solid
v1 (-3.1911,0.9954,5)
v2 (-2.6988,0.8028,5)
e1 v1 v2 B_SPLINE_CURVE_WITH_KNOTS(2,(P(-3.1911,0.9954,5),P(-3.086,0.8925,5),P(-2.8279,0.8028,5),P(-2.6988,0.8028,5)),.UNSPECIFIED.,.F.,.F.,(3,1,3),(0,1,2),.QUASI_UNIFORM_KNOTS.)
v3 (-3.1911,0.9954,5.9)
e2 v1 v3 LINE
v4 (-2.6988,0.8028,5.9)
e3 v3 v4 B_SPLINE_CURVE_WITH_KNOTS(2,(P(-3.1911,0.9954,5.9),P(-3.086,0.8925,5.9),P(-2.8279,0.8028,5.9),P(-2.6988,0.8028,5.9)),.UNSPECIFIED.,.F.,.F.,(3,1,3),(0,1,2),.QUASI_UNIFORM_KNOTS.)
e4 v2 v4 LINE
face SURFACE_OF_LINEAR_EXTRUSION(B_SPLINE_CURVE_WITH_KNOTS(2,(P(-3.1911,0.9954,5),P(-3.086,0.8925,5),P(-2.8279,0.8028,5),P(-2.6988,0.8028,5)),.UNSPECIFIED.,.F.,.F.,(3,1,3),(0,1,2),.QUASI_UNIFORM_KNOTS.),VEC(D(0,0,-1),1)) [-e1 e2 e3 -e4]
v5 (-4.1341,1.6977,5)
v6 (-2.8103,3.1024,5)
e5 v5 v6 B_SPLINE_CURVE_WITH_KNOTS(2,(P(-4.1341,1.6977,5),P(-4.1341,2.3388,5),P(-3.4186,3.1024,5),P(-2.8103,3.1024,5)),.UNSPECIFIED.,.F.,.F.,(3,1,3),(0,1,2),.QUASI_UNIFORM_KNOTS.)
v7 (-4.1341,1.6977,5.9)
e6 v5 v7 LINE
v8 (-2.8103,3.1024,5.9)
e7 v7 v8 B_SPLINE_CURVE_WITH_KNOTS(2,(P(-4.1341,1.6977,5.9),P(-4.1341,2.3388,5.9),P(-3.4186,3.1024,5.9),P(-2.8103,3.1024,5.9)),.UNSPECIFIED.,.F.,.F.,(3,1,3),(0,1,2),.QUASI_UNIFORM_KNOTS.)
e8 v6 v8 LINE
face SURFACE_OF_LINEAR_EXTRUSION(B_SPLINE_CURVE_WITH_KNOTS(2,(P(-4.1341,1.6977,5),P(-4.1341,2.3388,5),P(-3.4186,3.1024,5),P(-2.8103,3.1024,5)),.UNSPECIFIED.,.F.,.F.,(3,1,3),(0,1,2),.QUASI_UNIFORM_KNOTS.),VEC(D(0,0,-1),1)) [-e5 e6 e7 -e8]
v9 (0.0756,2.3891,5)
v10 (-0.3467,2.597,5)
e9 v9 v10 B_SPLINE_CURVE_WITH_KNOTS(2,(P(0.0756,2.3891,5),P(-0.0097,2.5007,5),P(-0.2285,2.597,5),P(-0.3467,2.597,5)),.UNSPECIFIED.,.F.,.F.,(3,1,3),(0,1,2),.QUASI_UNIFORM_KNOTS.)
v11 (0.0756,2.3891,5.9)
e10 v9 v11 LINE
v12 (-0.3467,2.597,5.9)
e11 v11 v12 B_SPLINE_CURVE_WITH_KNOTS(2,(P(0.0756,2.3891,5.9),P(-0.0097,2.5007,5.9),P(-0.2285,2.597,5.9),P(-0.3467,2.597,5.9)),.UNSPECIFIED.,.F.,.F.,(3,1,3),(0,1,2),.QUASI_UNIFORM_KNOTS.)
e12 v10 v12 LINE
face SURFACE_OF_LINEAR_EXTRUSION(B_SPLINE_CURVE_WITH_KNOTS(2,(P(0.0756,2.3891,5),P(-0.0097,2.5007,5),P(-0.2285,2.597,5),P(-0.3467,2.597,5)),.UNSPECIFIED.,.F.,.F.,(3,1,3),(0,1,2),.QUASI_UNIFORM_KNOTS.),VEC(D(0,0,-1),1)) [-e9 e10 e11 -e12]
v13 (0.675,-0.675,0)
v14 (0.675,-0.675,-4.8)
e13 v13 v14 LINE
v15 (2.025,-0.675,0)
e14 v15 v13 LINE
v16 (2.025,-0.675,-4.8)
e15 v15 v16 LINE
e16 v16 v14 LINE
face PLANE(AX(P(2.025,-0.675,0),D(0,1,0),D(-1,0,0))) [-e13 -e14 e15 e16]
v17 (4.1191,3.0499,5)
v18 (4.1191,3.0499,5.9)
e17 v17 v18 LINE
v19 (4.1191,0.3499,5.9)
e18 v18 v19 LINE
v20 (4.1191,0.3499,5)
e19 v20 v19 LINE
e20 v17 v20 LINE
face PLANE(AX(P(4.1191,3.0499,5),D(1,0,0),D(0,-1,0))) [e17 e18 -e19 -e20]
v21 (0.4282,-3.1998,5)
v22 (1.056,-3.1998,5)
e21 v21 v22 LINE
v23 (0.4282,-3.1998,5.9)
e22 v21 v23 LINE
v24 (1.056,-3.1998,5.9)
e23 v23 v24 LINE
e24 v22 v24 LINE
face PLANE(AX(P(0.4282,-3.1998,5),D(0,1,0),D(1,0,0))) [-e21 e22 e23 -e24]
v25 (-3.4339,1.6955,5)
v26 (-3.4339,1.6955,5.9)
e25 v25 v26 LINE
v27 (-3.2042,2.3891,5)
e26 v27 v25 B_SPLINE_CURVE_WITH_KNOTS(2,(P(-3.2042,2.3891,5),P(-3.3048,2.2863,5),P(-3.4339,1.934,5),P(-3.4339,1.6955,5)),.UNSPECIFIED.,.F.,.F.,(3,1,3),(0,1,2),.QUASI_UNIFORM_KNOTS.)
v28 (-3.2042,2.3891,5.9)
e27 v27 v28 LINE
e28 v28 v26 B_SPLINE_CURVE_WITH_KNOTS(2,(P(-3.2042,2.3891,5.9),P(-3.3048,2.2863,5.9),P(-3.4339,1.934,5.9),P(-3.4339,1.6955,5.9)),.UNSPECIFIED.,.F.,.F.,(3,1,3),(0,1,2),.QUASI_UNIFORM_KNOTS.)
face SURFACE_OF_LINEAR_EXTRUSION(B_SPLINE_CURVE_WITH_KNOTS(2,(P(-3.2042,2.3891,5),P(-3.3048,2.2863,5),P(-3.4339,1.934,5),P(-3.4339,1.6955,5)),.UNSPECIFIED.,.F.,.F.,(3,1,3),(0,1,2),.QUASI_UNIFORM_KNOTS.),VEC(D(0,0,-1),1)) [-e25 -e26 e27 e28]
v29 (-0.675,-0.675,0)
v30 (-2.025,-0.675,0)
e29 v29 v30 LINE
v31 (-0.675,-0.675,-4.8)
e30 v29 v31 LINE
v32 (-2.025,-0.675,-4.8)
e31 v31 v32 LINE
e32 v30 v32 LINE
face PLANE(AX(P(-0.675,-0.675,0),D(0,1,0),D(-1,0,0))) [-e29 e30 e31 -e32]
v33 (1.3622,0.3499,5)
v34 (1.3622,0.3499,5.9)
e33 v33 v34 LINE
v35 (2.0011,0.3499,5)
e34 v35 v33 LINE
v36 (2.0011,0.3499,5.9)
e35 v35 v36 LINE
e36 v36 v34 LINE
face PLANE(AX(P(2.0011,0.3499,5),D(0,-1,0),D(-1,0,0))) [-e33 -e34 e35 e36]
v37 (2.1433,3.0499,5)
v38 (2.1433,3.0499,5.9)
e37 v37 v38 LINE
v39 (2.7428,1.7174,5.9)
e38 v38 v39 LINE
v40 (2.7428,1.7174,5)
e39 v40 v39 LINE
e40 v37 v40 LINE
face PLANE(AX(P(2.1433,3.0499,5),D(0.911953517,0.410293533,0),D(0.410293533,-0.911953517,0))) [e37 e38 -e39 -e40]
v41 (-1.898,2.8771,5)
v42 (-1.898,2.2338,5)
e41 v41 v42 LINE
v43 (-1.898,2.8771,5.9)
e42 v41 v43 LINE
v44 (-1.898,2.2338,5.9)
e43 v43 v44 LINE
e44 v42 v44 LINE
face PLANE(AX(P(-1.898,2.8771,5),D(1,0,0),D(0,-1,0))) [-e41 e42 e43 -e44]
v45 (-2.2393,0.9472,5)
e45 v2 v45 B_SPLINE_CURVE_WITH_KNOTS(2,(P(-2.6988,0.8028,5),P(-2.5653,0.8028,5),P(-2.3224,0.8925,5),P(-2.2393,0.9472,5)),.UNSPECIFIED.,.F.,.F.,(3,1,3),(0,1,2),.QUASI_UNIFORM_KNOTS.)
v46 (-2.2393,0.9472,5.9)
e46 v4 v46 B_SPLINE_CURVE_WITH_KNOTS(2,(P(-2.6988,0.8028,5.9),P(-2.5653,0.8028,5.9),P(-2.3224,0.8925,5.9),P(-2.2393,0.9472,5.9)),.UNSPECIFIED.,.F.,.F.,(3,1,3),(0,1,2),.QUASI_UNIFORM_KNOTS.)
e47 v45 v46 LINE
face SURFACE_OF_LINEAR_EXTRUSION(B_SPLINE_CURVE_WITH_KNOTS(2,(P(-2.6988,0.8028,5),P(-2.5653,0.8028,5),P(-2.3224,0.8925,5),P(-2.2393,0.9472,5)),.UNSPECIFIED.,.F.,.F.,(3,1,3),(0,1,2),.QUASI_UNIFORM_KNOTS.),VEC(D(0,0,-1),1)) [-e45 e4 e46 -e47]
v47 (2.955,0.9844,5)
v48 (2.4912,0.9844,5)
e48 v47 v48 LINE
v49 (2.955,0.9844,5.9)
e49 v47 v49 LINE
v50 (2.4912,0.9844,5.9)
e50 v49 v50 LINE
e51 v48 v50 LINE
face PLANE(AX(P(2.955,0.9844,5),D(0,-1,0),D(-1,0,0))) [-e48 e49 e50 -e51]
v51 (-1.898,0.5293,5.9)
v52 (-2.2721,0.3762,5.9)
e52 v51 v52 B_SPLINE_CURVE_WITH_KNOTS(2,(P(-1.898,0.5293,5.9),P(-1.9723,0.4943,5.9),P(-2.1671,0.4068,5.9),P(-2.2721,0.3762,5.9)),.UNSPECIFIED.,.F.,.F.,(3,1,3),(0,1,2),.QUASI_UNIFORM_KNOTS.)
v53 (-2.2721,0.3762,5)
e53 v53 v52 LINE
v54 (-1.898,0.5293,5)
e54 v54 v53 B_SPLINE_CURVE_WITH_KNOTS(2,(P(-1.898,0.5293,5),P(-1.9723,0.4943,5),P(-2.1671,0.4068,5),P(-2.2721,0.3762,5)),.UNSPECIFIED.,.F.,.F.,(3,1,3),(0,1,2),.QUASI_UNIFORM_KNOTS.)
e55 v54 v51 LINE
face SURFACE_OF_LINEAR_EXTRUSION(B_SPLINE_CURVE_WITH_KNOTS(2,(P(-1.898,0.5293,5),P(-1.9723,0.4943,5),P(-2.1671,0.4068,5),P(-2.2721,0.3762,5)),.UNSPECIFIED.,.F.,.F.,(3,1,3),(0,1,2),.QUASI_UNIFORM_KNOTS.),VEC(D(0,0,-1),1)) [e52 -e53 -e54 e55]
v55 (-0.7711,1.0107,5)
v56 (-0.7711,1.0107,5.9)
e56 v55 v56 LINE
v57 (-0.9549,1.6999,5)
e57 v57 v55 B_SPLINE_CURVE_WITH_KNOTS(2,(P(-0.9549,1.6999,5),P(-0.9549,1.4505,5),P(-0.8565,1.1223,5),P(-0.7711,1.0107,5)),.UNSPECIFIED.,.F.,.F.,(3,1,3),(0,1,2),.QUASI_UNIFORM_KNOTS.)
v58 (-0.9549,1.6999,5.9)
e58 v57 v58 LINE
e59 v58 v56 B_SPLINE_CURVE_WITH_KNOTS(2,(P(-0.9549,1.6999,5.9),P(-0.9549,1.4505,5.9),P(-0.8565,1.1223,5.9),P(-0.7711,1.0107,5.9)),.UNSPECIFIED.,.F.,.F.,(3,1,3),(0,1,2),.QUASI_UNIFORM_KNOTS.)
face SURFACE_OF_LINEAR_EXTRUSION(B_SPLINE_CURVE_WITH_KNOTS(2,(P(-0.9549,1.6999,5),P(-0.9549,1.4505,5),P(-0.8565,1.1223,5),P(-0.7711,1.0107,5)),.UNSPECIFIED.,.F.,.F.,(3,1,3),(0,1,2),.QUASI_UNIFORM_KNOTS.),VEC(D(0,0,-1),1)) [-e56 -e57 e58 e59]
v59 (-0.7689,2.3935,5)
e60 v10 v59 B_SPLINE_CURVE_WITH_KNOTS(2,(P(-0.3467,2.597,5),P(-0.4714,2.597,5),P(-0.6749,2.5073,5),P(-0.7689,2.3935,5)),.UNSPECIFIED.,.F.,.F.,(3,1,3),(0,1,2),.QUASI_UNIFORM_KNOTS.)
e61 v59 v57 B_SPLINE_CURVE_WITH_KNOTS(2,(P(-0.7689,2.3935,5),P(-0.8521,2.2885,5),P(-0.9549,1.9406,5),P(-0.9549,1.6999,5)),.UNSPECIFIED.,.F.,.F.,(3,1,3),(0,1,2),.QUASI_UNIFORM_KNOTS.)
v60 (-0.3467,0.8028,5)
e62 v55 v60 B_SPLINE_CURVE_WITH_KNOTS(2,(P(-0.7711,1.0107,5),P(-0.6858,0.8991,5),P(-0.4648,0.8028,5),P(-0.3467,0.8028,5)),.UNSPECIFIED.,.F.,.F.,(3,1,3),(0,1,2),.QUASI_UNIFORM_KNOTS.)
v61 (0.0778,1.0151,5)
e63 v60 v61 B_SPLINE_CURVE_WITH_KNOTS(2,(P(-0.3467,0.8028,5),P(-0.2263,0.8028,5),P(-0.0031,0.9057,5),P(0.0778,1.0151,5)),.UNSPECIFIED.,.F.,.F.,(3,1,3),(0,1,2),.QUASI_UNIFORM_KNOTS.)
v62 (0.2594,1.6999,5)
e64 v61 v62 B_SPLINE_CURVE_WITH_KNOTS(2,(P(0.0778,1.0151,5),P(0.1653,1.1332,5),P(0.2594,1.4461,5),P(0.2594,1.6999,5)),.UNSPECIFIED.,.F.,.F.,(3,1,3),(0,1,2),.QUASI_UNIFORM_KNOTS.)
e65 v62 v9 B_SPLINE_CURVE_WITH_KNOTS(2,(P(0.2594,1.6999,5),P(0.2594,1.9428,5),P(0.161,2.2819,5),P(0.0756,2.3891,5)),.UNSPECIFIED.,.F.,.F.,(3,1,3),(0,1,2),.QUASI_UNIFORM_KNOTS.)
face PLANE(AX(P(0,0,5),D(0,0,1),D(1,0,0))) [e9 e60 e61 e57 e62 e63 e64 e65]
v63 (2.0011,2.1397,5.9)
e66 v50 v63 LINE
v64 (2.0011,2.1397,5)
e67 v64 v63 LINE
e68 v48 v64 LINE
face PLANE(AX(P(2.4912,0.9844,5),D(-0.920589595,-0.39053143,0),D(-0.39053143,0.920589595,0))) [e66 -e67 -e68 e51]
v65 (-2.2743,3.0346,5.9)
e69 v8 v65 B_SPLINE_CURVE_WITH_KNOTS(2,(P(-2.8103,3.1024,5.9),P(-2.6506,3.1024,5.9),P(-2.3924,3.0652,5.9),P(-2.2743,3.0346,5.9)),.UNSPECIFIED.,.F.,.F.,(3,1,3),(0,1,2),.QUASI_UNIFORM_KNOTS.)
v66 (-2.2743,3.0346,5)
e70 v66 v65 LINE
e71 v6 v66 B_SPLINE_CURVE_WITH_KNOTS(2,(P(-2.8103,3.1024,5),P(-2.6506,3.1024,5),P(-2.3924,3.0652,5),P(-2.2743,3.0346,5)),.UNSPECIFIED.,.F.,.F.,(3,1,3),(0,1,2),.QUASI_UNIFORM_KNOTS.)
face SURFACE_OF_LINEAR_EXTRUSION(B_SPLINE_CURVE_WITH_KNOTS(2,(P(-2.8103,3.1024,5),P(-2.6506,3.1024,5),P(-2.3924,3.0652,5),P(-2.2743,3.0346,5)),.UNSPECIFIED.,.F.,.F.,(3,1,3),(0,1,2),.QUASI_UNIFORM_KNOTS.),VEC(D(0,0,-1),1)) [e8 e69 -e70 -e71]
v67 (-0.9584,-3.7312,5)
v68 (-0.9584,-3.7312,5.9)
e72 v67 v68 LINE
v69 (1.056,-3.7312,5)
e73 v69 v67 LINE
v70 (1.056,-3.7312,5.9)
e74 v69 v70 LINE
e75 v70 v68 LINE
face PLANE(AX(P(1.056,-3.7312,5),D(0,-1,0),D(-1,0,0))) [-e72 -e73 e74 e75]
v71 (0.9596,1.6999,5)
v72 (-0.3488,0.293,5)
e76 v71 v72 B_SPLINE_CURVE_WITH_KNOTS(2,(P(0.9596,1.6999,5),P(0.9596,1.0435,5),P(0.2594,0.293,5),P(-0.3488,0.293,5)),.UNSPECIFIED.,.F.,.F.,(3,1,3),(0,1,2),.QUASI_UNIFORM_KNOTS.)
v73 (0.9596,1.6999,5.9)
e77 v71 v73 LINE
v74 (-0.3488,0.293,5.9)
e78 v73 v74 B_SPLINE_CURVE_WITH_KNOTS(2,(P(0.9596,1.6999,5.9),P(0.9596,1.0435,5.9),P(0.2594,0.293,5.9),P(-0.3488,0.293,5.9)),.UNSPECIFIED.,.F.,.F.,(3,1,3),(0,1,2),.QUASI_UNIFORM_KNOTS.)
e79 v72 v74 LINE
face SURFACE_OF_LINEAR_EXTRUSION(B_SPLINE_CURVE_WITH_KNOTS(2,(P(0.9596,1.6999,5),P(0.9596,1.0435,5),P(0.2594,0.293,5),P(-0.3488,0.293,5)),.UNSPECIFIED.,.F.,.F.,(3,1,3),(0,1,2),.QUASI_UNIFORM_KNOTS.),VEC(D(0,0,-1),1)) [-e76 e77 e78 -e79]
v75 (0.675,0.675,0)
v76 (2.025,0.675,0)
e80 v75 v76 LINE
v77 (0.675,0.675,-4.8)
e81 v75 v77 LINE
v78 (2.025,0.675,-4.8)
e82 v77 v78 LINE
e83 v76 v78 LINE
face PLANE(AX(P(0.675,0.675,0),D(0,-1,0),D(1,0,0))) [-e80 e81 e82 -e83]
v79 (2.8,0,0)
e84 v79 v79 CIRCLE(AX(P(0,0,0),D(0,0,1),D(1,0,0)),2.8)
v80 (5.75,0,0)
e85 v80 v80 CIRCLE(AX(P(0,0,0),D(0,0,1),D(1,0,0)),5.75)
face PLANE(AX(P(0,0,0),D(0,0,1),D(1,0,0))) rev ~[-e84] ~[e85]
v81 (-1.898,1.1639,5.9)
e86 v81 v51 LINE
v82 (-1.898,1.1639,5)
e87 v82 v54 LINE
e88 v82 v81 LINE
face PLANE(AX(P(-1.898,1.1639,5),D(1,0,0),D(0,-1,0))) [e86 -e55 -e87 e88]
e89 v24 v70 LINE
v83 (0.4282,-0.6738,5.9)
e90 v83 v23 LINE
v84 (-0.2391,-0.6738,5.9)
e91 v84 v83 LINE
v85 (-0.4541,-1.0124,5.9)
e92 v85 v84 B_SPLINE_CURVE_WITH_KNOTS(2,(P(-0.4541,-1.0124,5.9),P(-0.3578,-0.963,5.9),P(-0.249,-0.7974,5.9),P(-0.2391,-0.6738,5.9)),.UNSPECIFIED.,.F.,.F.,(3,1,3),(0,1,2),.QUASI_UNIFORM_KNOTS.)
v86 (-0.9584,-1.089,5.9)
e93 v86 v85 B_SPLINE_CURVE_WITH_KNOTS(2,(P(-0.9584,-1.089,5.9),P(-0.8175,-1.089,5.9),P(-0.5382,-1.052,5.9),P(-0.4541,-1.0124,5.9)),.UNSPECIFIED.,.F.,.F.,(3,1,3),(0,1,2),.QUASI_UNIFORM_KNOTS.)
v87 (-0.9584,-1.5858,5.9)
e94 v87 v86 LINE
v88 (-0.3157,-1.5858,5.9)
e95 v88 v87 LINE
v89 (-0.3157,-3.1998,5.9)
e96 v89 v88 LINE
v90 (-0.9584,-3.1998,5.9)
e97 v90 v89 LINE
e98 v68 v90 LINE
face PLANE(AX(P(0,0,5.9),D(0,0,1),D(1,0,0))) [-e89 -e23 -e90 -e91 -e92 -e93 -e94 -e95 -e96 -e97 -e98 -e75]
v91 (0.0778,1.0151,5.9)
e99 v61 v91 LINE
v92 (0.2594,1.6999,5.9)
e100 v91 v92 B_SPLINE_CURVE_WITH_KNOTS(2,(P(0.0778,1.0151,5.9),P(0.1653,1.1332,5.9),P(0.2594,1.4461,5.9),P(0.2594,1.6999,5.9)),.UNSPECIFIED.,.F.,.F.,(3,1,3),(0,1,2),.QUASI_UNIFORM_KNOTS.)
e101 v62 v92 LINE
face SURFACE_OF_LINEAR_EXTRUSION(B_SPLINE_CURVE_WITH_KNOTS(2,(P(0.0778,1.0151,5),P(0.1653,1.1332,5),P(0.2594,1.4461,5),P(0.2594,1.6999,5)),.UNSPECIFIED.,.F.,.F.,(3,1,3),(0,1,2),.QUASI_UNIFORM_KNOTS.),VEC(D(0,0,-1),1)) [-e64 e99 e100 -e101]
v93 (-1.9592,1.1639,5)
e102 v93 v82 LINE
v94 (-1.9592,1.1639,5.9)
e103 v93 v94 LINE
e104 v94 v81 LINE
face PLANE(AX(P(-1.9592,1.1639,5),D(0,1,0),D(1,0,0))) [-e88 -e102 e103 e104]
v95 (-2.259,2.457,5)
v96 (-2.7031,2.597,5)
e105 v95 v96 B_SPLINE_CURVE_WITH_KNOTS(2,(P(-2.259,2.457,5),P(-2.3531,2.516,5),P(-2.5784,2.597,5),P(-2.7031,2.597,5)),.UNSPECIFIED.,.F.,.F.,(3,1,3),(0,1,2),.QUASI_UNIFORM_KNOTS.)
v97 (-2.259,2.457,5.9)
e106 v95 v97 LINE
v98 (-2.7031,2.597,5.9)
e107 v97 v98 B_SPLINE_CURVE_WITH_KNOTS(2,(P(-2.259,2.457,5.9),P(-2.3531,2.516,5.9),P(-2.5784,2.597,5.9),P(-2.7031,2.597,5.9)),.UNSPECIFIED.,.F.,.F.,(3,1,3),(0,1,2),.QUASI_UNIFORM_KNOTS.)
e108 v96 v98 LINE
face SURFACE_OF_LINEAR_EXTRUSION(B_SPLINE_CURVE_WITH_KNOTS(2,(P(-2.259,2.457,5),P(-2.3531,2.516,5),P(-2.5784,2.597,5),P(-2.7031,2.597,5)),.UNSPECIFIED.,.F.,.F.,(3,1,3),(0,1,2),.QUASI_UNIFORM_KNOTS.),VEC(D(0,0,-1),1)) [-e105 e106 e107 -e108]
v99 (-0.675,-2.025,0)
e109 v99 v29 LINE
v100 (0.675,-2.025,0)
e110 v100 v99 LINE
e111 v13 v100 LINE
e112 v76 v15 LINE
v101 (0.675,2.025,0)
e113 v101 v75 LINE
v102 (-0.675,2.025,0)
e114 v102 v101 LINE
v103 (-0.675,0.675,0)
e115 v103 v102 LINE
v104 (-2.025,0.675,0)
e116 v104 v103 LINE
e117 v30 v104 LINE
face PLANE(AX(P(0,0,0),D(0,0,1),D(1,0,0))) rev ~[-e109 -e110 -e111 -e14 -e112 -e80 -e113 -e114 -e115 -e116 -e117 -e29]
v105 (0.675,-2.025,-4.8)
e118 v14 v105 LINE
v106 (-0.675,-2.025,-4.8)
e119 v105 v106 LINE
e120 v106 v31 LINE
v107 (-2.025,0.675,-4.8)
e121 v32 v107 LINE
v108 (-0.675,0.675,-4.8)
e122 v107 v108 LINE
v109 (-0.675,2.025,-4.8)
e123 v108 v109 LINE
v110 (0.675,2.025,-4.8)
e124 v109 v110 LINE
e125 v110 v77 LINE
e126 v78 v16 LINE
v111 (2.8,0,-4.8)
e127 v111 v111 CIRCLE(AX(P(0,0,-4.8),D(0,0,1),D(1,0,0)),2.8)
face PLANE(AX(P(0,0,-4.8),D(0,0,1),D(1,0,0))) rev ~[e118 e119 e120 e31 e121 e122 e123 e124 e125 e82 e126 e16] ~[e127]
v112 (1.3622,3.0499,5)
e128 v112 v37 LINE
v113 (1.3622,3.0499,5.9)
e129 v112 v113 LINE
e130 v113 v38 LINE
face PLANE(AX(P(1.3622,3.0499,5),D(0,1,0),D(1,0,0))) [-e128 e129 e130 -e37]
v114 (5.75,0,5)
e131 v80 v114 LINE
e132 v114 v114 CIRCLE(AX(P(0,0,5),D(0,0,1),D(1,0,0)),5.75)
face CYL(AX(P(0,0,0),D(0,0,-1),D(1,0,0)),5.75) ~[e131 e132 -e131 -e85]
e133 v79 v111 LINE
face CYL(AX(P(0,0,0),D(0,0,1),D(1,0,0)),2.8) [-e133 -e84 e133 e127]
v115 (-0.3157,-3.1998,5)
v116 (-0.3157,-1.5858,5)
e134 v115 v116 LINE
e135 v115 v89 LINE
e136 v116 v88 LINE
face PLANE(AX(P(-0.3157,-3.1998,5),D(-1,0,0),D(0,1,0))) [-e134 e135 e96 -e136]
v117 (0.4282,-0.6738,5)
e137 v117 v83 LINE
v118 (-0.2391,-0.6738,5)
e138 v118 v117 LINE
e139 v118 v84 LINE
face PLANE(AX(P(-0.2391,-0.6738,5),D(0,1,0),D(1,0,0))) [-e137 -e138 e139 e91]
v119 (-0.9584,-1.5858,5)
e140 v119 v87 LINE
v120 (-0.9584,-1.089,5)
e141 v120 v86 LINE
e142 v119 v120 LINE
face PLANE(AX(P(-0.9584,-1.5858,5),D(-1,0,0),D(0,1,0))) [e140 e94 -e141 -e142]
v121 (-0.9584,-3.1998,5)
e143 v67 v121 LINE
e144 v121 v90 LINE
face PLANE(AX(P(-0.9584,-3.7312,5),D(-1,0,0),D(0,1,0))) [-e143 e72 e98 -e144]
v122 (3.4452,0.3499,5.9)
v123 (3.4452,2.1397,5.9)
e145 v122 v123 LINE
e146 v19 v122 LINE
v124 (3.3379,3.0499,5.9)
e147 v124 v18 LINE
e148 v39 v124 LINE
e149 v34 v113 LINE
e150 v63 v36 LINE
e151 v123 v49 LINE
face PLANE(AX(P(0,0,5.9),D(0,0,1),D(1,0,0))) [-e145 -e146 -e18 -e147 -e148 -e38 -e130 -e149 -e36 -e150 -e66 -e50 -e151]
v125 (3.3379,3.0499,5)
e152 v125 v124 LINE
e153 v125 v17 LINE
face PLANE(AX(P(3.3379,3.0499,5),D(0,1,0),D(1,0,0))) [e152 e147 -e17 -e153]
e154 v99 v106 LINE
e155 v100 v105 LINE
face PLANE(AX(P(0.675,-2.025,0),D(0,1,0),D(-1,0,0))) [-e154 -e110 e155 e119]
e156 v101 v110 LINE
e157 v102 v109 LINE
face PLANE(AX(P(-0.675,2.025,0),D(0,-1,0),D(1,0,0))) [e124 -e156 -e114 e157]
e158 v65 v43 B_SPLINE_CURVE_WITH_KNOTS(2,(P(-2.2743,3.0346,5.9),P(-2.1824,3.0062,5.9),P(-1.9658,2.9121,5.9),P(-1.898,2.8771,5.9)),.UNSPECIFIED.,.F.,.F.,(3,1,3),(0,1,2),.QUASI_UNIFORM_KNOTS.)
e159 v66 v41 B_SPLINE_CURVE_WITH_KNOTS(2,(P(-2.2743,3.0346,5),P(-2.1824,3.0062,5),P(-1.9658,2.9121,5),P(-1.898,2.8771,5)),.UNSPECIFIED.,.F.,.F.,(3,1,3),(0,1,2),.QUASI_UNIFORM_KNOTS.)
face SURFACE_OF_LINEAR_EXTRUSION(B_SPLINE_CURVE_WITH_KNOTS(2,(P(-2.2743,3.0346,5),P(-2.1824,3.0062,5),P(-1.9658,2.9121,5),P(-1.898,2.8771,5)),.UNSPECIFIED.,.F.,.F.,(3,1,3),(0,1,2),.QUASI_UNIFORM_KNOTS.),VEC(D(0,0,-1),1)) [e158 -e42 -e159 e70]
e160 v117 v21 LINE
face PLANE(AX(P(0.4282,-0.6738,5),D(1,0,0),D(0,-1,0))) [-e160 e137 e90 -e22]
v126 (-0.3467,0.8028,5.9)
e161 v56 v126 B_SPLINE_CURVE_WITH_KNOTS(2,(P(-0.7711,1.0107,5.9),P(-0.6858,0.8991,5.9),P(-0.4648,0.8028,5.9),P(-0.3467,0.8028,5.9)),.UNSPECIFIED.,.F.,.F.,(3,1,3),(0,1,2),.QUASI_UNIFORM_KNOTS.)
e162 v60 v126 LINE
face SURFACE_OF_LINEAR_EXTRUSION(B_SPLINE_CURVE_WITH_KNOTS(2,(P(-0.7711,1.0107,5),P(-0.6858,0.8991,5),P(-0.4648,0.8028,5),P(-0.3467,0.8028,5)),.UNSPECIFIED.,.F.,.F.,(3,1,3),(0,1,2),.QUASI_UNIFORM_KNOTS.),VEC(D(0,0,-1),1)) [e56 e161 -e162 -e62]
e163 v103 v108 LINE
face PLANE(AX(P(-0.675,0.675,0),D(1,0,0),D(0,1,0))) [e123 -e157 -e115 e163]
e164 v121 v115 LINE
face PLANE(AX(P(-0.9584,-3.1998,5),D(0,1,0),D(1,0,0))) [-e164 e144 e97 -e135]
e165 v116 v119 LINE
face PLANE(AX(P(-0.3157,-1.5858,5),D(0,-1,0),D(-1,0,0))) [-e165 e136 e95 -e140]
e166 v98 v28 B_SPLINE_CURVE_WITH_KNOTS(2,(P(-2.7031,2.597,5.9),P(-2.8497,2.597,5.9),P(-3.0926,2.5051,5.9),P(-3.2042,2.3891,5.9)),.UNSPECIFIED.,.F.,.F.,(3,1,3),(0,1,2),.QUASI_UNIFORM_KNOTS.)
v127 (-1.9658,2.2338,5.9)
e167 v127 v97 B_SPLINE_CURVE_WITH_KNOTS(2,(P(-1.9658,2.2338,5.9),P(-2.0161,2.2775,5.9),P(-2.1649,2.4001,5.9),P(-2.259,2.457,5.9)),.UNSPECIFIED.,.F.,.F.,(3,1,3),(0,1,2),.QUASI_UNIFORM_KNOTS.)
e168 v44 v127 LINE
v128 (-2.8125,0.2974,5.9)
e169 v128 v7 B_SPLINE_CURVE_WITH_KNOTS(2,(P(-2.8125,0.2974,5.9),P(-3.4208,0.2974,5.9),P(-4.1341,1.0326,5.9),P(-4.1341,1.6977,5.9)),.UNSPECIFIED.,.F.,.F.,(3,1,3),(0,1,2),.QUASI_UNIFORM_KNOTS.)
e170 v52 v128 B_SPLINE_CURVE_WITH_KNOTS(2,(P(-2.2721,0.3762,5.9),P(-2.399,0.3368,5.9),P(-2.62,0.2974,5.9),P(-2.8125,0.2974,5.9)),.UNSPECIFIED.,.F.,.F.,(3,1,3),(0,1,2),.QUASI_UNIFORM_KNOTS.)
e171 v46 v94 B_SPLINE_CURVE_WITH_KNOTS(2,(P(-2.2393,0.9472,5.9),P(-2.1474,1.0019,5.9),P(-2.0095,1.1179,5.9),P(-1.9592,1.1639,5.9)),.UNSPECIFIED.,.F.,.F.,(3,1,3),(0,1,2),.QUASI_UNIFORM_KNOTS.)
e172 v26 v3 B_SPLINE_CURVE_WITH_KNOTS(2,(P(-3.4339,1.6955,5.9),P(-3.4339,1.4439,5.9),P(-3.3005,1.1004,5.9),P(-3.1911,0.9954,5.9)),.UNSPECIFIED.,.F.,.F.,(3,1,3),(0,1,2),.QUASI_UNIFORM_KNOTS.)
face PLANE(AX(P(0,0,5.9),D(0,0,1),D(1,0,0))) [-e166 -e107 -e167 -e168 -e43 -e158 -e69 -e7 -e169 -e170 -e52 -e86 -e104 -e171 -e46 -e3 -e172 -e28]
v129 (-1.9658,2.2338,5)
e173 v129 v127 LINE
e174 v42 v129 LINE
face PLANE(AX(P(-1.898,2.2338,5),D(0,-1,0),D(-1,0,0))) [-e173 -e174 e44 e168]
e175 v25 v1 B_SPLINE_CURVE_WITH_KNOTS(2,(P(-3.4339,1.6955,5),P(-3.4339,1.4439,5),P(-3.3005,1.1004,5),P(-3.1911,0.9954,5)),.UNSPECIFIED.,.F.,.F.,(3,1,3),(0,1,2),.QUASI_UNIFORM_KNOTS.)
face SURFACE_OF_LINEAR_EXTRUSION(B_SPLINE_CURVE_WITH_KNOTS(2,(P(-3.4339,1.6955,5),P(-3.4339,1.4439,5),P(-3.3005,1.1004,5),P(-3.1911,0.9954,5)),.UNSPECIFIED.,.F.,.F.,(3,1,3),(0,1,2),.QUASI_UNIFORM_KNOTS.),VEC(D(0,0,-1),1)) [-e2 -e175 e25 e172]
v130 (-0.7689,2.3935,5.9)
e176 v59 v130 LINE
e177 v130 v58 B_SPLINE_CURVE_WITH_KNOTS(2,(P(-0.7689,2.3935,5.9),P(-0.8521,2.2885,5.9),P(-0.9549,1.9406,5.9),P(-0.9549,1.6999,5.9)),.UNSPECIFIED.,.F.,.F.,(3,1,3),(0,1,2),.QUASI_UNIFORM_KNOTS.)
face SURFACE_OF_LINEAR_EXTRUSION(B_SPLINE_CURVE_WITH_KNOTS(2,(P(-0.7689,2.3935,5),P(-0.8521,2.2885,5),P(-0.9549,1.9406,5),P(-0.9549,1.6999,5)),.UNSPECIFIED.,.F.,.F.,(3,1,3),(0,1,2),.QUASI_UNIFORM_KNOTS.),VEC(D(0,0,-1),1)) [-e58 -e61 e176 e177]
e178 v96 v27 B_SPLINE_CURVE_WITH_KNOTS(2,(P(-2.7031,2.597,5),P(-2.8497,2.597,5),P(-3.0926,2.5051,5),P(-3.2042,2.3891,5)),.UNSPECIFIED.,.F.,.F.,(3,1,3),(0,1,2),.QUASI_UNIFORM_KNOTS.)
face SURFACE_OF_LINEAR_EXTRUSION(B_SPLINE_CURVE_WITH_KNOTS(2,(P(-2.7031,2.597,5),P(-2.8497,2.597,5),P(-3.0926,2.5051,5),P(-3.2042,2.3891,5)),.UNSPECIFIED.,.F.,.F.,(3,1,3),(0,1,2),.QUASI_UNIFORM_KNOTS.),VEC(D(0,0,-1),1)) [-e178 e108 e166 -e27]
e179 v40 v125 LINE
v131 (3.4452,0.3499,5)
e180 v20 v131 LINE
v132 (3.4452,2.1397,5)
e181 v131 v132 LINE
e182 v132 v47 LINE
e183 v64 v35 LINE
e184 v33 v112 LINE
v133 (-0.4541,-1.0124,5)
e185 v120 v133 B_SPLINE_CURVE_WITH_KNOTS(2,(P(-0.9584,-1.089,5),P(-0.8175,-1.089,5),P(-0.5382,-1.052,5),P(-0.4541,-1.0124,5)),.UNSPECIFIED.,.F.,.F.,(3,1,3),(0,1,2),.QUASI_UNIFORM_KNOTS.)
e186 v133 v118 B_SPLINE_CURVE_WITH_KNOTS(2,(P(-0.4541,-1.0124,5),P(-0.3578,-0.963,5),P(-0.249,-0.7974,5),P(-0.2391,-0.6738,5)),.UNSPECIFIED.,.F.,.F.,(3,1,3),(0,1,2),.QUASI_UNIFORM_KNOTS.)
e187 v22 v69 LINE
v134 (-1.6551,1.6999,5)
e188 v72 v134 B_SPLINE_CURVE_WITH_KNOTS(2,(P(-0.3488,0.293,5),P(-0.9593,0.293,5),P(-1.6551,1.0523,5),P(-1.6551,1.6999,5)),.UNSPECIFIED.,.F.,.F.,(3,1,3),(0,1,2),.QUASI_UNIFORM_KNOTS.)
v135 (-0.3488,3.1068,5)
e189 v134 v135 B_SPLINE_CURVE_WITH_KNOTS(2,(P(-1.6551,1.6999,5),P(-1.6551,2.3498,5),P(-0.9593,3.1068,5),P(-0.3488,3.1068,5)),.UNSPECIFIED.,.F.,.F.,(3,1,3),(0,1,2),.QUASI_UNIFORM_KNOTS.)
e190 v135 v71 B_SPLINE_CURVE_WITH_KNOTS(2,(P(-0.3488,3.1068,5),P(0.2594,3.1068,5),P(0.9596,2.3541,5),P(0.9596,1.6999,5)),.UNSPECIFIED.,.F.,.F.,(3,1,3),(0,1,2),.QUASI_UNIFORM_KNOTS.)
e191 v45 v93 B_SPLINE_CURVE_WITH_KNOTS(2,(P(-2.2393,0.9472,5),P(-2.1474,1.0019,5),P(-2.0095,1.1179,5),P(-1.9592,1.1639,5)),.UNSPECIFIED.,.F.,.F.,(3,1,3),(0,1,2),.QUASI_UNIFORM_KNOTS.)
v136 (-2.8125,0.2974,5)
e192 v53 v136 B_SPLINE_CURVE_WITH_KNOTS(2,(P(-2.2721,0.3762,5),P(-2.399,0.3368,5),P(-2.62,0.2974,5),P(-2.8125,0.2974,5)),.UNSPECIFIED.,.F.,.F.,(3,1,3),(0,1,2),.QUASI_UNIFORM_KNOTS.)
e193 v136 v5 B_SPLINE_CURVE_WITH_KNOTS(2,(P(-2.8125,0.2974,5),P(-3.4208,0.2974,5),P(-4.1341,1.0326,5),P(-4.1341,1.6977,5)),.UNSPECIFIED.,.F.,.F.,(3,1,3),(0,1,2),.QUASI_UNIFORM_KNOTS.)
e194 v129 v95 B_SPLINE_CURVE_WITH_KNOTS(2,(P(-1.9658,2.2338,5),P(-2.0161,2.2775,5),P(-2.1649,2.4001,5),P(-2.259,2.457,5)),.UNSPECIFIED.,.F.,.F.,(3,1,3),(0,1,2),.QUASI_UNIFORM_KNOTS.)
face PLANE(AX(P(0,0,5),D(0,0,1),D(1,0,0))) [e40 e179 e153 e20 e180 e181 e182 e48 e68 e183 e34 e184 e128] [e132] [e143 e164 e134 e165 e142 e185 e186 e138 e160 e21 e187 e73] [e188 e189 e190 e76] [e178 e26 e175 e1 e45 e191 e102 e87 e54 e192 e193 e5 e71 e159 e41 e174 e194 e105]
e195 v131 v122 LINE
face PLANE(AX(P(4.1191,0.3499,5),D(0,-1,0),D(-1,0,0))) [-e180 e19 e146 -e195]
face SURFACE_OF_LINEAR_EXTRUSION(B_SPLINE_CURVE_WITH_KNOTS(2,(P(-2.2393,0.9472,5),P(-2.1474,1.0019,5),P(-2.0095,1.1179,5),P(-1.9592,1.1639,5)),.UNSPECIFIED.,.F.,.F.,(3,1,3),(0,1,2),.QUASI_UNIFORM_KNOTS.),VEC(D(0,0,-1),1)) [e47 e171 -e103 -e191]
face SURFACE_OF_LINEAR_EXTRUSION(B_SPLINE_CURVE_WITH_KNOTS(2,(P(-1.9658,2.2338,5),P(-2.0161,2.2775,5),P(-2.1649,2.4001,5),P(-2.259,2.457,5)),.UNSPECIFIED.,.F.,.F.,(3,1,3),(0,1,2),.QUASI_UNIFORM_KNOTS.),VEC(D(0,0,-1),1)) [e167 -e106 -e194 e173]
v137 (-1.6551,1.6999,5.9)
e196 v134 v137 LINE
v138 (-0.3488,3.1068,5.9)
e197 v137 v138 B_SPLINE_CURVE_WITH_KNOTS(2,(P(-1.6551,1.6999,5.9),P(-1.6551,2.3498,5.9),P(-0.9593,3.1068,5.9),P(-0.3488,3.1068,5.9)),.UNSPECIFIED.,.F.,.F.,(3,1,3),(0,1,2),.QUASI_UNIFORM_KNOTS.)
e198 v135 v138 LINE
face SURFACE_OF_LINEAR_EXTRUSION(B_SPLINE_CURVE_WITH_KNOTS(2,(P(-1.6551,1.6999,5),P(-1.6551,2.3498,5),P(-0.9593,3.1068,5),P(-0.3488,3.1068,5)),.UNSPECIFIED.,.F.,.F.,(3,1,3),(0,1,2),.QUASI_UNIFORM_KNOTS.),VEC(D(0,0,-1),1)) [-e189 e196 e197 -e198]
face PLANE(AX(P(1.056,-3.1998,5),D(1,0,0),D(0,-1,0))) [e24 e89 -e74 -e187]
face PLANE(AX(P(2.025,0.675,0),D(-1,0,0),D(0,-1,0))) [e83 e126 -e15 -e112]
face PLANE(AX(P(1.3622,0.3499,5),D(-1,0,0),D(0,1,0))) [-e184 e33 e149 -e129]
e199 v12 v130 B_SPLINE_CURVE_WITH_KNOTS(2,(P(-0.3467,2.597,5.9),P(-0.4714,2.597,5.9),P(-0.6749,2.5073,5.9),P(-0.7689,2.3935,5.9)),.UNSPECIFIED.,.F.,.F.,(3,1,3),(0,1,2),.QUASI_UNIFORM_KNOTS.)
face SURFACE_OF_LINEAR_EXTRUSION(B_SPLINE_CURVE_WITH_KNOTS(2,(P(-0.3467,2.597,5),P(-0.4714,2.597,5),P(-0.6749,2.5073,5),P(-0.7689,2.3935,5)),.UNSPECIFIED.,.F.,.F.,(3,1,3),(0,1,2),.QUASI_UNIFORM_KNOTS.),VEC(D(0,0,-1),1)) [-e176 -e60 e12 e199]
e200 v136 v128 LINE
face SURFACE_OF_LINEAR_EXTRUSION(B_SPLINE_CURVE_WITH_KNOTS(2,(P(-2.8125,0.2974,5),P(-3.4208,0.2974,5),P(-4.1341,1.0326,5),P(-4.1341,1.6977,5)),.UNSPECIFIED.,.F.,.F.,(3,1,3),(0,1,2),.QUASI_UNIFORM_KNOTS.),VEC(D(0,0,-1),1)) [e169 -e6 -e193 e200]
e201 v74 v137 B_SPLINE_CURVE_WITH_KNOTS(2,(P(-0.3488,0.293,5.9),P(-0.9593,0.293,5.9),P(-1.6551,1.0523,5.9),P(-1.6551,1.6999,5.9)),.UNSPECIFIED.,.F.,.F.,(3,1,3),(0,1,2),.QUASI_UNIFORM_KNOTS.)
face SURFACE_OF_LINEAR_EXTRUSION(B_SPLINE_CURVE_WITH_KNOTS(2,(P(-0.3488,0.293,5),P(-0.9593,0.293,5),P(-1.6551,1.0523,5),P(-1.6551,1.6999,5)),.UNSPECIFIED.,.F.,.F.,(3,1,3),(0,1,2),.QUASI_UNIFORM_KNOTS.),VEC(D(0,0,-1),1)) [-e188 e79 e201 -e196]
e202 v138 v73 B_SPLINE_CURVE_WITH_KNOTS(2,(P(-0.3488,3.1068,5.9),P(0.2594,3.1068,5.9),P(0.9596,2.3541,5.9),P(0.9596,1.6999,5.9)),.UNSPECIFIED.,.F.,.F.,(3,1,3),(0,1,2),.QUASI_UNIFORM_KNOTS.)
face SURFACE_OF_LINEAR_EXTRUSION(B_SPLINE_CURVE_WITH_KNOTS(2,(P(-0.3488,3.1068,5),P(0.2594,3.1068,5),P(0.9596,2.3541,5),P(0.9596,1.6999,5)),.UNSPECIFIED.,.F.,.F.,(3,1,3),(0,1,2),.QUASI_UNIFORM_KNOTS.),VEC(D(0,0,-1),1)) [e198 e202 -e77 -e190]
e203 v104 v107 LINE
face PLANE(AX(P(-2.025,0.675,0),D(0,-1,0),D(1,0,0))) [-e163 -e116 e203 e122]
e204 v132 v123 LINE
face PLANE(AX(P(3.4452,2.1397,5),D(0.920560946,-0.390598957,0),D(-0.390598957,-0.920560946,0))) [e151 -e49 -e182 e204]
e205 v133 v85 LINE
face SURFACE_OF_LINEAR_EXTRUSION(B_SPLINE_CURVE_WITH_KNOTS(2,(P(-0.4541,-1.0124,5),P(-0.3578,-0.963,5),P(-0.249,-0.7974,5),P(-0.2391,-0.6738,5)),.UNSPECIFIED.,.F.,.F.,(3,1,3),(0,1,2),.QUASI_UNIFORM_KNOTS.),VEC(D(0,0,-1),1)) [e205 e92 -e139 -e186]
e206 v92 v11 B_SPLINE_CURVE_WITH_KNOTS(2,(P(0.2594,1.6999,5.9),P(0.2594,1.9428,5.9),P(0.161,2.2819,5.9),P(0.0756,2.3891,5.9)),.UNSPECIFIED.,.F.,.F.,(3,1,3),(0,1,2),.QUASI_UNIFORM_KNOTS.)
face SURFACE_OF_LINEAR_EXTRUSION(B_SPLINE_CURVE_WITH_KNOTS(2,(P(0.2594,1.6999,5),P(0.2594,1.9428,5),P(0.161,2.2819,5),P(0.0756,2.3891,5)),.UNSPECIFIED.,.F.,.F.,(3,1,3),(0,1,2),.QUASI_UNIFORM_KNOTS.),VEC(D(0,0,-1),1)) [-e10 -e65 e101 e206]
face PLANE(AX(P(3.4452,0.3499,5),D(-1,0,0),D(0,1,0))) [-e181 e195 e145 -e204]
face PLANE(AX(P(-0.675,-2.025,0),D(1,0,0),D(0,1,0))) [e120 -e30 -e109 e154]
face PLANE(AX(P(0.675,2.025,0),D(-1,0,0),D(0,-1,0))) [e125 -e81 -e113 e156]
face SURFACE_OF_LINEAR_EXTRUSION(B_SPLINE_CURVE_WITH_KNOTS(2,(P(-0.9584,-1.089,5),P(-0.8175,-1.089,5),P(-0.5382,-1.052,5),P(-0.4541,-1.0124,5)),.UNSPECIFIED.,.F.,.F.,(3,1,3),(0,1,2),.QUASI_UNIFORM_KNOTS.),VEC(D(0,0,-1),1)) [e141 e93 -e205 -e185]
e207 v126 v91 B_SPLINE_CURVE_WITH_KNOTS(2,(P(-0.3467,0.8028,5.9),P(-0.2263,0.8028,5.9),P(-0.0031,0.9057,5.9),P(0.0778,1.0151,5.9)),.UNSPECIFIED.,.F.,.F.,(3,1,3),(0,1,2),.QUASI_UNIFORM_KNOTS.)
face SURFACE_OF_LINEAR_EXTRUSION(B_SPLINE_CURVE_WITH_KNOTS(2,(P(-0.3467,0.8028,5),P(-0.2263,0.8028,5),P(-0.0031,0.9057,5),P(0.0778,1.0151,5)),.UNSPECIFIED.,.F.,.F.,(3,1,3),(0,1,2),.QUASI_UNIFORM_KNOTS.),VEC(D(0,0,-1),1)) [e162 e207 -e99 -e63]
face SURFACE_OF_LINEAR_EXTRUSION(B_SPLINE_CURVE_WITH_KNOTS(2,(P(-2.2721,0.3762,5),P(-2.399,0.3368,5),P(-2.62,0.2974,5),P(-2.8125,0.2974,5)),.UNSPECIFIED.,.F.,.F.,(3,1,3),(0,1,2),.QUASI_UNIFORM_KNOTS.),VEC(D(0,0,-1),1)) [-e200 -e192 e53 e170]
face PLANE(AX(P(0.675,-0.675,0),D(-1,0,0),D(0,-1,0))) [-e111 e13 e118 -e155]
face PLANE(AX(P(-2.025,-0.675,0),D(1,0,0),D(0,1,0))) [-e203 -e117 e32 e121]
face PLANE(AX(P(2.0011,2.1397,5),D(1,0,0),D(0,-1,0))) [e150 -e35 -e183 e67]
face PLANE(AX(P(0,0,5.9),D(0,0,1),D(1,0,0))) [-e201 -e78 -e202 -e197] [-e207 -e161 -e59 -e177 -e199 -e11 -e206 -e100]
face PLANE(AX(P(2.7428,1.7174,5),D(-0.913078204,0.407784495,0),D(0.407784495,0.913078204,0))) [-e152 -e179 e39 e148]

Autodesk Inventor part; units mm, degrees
ref_plane "YZ Plane" through (0, 0, 0) normal (1, 0, 0) x (0, 1, 0)
ref_plane "XZ Plane" through (0, 0, 0) normal (0, 1, 0) x (-1, 0, 0)
ref_plane "XY Plane" through (0, 0, 0) normal (0, 0, 1) x (1, 0, 0)
sketch "Sketch1" plane through (0, 0, 0) normal (0, 0, 1) x (1, 0, 0)
  circle A0 centre (0, 0) radius 6.22 construction
  circle A1 centre (0, 0) radius 2.8
  line L0 (-0.675, 0.675) -> (-0.675, 2.025)
  line L1 (-0.675, 2.025) -> (0.675, 2.025)
  line L2 (0.675, 2.025) -> (0.675, 0.675)
  line L3 (0.675, 0.675) -> (2.025, 0.675)
  line L4 (2.025, 0.675) -> (2.025, -0.675)
  line L5 (2.025, -0.675) -> (0.675, -0.675)
  line L6 (0.675, -0.675) -> (0.675, -2.025)
  line L7 (0.675, -2.025) -> (-0.675, -2.025)
  line L8 (-0.675, -2.025) -> (-0.675, -0.675)
  line L9 (-0.675, -0.675) -> (-2.025, -0.675)
  line L10 (-2.025, -0.675) -> (-2.025, 0.675)
  line L11 (-2.025, 0.675) -> (-0.675, 0.675)
  circle A2 centre (0, 0) radius 5.75
  point P0 (-6.07, -6.1)
  dimension "d0" = 12.44
  dimension "d1" = 0.47
extrude "Extrusion1" add sketch "Sketch1" along normal blind 5 contours A1 | L0 L1 L2 L3 L4 L5 L6 L7 L8 L9 L10 L11 | A2
extrude "Extrusion2" add sketch "Sketch1" against normal blind 4.8 contours A1
sketch "Sketch2" plane through (0, 0, 5) normal (0, 0, 1) x (1, 0, 0)
  point P0 (0, 0)
sketch "Sketch3" plane through (0, 0, 5) normal (0, 0, 1) x (1, 0, 0)
  line L0 (-4.2566, 3.1068) -> (4.2414, 3.1068) construction
  line L1 (4.2414, 3.1068) -> (4.2414, 0.2437) construction
  line L2 (4.2414, 0.2437) -> (-4.2566, 0.2437) construction
  line L3 (-4.2566, 0.2437) -> (-4.2566, 3.1068) construction
  line L4 (-1.3588, -0.6738) -> (1.3131, -0.6738) construction
  line L5 (1.3131, -0.6738) -> (1.3131, -3.7312) construction
  line L6 (1.3131, -3.7312) -> (-1.3588, -3.7312) construction
  line L7 (-1.3588, -3.7312) -> (-1.3588, -0.6738) construction
  spline S0 degree 2 poles (-2.8125, 0.2974) (-3.4208, 0.2974) (-4.1341, 1.0326) (-4.1341, 1.6977) knots 0 0 0 1 2 2 2
  spline S1 degree 2 poles (-4.1341, 1.6977) (-4.1341, 2.3388) (-3.4186, 3.1024) (-2.8103, 3.1024) knots 0 0 0 1 2 2 2
  spline S2 degree 2 poles (-2.8103, 3.1024) (-2.6506, 3.1024) (-2.3924, 3.0652) (-2.2743, 3.0346) knots 0 0 0 1 2 2 2
  spline S3 degree 2 poles (-2.2743, 3.0346) (-2.1824, 3.0062) (-1.9658, 2.9121) (-1.898, 2.8771) knots 0 0 0 1 2 2 2
  line L8 (-1.898, 2.8771) -> (-1.898, 2.2338)
  line L9 (-1.898, 2.2338) -> (-1.9658, 2.2338)
  spline S4 degree 2 poles (-1.9658, 2.2338) (-2.0161, 2.2775) (-2.1649, 2.4001) (-2.259, 2.457) knots 0 0 0 1 2 2 2
  spline S5 degree 2 poles (-2.259, 2.457) (-2.3531, 2.516) (-2.5784, 2.597) (-2.7031, 2.597) knots 0 0 0 1 2 2 2
  spline S6 degree 2 poles (-2.7031, 2.597) (-2.8497, 2.597) (-3.0926, 2.5051) (-3.2042, 2.3891) knots 0 0 0 1 2 2 2
  spline S7 degree 2 poles (-3.2042, 2.3891) (-3.3048, 2.2863) (-3.4339, 1.934) (-3.4339, 1.6955) knots 0 0 0 1 2 2 2
  spline S8 degree 2 poles (-3.4339, 1.6955) (-3.4339, 1.4439) (-3.3005, 1.1004) (-3.1911, 0.9954) knots 0 0 0 1 2 2 2
  spline S9 degree 2 poles (-3.1911, 0.9954) (-3.086, 0.8925) (-2.8279, 0.8028) (-2.6988, 0.8028) knots 0 0 0 1 2 2 2
  spline S10 degree 2 poles (-2.6988, 0.8028) (-2.5653, 0.8028) (-2.3224, 0.8925) (-2.2393, 0.9472) knots 0 0 0 1 2 2 2
  spline S11 degree 2 poles (-2.2393, 0.9472) (-2.1474, 1.0019) (-2.0095, 1.1179) (-1.9592, 1.1639) knots 0 0 0 1 2 2 2
  line L10 (-1.9592, 1.1639) -> (-1.898, 1.1639)
  line L11 (-1.898, 1.1639) -> (-1.898, 0.5293)
  spline S12 degree 2 poles (-1.898, 0.5293) (-1.9723, 0.4943) (-2.1671, 0.4068) (-2.2721, 0.3762) knots 0 0 0 1 2 2 2
  spline S13 degree 2 poles (-2.2721, 0.3762) (-2.399, 0.3368) (-2.62, 0.2974) (-2.8125, 0.2974) knots 0 0 0 1 2 2 2
  spline S14 degree 2 poles (0.9596, 1.6999) (0.9596, 1.0435) (0.2594, 0.293) (-0.3488, 0.293) knots 0 0 0 1 2 2 2
  spline S15 degree 2 poles (-0.3488, 0.293) (-0.9593, 0.293) (-1.6551, 1.0523) (-1.6551, 1.6999) knots 0 0 0 1 2 2 2
  spline S16 degree 2 poles (-1.6551, 1.6999) (-1.6551, 2.3498) (-0.9593, 3.1068) (-0.3488, 3.1068) knots 0 0 0 1 2 2 2
  spline S17 degree 2 poles (-0.3488, 3.1068) (0.2594, 3.1068) (0.9596, 2.3541) (0.9596, 1.6999) knots 0 0 0 1 2 2 2
  spline S18 degree 2 poles (0.2594, 1.6999) (0.2594, 1.9428) (0.161, 2.2819) (0.0756, 2.3891) knots 0 0 0 1 2 2 2
  spline S19 degree 2 poles (0.0756, 2.3891) (-0.0097, 2.5007) (-0.2285, 2.597) (-0.3467, 2.597) knots 0 0 0 1 2 2 2
  spline S20 degree 2 poles (-0.3467, 2.597) (-0.4714, 2.597) (-0.6749, 2.5073) (-0.7689, 2.3935) knots 0 0 0 1 2 2 2
  spline S21 degree 2 poles (-0.7689, 2.3935) (-0.8521, 2.2885) (-0.9549, 1.9406) (-0.9549, 1.6999) knots 0 0 0 1 2 2 2
  spline S22 degree 2 poles (-0.9549, 1.6999) (-0.9549, 1.4505) (-0.8565, 1.1223) (-0.7711, 1.0107) knots 0 0 0 1 2 2 2
  spline S23 degree 2 poles (-0.7711, 1.0107) (-0.6858, 0.8991) (-0.4648, 0.8028) (-0.3467, 0.8028) knots 0 0 0 1 2 2 2
  spline S24 degree 2 poles (-0.3467, 0.8028) (-0.2263, 0.8028) (-0.0031, 0.9057) (0.0778, 1.0151) knots 0 0 0 1 2 2 2
  spline S25 degree 2 poles (0.0778, 1.0151) (0.1653, 1.1332) (0.2594, 1.4461) (0.2594, 1.6999) knots 0 0 0 1 2 2 2
  line L12 (4.1191, 0.3499) -> (3.4452, 0.3499)
  line L13 (3.4452, 0.3499) -> (3.4452, 2.1397)
  line L14 (3.4452, 2.1397) -> (2.955, 0.9844)
  line L15 (2.955, 0.9844) -> (2.4912, 0.9844)
  line L16 (2.4912, 0.9844) -> (2.0011, 2.1397)
  line L17 (2.0011, 2.1397) -> (2.0011, 0.3499)
  line L18 (2.0011, 0.3499) -> (1.3622, 0.3499)
  line L19 (1.3622, 0.3499) -> (1.3622, 3.0499)
  line L20 (1.3622, 3.0499) -> (2.1433, 3.0499)
  line L21 (2.1433, 3.0499) -> (2.7428, 1.7174)
  line L22 (2.7428, 1.7174) -> (3.3379, 3.0499)
  line L23 (3.3379, 3.0499) -> (4.1191, 3.0499)
  line L24 (4.1191, 3.0499) -> (4.1191, 0.3499)
  line L25 (1.056, -3.7312) -> (-0.9584, -3.7312)
  line L26 (-0.9584, -3.7312) -> (-0.9584, -3.1998)
  line L27 (-0.9584, -3.1998) -> (-0.3157, -3.1998)
  line L28 (-0.3157, -3.1998) -> (-0.3157, -1.5858)
  line L29 (-0.3157, -1.5858) -> (-0.9584, -1.5858)
  line L30 (-0.9584, -1.5858) -> (-0.9584, -1.089)
  spline S26 degree 2 poles (-0.9584, -1.089) (-0.8175, -1.089) (-0.5382, -1.052) (-0.4541, -1.0124) knots 0 0 0 1 2 2 2
  spline S27 degree 2 poles (-0.4541, -1.0124) (-0.3578, -0.963) (-0.249, -0.7974) (-0.2391, -0.6738) knots 0 0 0 1 2 2 2
  line L31 (-0.2391, -0.6738) -> (0.4282, -0.6738)
  line L32 (0.4282, -0.6738) -> (0.4282, -3.1998)
  line L33 (0.4282, -3.1998) -> (1.056, -3.1998)
  line L34 (1.056, -3.1998) -> (1.056, -3.7312)
  point P0 (0, 0)
  point P1 (-0.0076, 0.2437)
  point P2 (-0.0228, -3.7312)
extrude "Extrusion3" add sketch "Sketch3" along normal blind 0.9
properties part number "IPC Com 1 key"
